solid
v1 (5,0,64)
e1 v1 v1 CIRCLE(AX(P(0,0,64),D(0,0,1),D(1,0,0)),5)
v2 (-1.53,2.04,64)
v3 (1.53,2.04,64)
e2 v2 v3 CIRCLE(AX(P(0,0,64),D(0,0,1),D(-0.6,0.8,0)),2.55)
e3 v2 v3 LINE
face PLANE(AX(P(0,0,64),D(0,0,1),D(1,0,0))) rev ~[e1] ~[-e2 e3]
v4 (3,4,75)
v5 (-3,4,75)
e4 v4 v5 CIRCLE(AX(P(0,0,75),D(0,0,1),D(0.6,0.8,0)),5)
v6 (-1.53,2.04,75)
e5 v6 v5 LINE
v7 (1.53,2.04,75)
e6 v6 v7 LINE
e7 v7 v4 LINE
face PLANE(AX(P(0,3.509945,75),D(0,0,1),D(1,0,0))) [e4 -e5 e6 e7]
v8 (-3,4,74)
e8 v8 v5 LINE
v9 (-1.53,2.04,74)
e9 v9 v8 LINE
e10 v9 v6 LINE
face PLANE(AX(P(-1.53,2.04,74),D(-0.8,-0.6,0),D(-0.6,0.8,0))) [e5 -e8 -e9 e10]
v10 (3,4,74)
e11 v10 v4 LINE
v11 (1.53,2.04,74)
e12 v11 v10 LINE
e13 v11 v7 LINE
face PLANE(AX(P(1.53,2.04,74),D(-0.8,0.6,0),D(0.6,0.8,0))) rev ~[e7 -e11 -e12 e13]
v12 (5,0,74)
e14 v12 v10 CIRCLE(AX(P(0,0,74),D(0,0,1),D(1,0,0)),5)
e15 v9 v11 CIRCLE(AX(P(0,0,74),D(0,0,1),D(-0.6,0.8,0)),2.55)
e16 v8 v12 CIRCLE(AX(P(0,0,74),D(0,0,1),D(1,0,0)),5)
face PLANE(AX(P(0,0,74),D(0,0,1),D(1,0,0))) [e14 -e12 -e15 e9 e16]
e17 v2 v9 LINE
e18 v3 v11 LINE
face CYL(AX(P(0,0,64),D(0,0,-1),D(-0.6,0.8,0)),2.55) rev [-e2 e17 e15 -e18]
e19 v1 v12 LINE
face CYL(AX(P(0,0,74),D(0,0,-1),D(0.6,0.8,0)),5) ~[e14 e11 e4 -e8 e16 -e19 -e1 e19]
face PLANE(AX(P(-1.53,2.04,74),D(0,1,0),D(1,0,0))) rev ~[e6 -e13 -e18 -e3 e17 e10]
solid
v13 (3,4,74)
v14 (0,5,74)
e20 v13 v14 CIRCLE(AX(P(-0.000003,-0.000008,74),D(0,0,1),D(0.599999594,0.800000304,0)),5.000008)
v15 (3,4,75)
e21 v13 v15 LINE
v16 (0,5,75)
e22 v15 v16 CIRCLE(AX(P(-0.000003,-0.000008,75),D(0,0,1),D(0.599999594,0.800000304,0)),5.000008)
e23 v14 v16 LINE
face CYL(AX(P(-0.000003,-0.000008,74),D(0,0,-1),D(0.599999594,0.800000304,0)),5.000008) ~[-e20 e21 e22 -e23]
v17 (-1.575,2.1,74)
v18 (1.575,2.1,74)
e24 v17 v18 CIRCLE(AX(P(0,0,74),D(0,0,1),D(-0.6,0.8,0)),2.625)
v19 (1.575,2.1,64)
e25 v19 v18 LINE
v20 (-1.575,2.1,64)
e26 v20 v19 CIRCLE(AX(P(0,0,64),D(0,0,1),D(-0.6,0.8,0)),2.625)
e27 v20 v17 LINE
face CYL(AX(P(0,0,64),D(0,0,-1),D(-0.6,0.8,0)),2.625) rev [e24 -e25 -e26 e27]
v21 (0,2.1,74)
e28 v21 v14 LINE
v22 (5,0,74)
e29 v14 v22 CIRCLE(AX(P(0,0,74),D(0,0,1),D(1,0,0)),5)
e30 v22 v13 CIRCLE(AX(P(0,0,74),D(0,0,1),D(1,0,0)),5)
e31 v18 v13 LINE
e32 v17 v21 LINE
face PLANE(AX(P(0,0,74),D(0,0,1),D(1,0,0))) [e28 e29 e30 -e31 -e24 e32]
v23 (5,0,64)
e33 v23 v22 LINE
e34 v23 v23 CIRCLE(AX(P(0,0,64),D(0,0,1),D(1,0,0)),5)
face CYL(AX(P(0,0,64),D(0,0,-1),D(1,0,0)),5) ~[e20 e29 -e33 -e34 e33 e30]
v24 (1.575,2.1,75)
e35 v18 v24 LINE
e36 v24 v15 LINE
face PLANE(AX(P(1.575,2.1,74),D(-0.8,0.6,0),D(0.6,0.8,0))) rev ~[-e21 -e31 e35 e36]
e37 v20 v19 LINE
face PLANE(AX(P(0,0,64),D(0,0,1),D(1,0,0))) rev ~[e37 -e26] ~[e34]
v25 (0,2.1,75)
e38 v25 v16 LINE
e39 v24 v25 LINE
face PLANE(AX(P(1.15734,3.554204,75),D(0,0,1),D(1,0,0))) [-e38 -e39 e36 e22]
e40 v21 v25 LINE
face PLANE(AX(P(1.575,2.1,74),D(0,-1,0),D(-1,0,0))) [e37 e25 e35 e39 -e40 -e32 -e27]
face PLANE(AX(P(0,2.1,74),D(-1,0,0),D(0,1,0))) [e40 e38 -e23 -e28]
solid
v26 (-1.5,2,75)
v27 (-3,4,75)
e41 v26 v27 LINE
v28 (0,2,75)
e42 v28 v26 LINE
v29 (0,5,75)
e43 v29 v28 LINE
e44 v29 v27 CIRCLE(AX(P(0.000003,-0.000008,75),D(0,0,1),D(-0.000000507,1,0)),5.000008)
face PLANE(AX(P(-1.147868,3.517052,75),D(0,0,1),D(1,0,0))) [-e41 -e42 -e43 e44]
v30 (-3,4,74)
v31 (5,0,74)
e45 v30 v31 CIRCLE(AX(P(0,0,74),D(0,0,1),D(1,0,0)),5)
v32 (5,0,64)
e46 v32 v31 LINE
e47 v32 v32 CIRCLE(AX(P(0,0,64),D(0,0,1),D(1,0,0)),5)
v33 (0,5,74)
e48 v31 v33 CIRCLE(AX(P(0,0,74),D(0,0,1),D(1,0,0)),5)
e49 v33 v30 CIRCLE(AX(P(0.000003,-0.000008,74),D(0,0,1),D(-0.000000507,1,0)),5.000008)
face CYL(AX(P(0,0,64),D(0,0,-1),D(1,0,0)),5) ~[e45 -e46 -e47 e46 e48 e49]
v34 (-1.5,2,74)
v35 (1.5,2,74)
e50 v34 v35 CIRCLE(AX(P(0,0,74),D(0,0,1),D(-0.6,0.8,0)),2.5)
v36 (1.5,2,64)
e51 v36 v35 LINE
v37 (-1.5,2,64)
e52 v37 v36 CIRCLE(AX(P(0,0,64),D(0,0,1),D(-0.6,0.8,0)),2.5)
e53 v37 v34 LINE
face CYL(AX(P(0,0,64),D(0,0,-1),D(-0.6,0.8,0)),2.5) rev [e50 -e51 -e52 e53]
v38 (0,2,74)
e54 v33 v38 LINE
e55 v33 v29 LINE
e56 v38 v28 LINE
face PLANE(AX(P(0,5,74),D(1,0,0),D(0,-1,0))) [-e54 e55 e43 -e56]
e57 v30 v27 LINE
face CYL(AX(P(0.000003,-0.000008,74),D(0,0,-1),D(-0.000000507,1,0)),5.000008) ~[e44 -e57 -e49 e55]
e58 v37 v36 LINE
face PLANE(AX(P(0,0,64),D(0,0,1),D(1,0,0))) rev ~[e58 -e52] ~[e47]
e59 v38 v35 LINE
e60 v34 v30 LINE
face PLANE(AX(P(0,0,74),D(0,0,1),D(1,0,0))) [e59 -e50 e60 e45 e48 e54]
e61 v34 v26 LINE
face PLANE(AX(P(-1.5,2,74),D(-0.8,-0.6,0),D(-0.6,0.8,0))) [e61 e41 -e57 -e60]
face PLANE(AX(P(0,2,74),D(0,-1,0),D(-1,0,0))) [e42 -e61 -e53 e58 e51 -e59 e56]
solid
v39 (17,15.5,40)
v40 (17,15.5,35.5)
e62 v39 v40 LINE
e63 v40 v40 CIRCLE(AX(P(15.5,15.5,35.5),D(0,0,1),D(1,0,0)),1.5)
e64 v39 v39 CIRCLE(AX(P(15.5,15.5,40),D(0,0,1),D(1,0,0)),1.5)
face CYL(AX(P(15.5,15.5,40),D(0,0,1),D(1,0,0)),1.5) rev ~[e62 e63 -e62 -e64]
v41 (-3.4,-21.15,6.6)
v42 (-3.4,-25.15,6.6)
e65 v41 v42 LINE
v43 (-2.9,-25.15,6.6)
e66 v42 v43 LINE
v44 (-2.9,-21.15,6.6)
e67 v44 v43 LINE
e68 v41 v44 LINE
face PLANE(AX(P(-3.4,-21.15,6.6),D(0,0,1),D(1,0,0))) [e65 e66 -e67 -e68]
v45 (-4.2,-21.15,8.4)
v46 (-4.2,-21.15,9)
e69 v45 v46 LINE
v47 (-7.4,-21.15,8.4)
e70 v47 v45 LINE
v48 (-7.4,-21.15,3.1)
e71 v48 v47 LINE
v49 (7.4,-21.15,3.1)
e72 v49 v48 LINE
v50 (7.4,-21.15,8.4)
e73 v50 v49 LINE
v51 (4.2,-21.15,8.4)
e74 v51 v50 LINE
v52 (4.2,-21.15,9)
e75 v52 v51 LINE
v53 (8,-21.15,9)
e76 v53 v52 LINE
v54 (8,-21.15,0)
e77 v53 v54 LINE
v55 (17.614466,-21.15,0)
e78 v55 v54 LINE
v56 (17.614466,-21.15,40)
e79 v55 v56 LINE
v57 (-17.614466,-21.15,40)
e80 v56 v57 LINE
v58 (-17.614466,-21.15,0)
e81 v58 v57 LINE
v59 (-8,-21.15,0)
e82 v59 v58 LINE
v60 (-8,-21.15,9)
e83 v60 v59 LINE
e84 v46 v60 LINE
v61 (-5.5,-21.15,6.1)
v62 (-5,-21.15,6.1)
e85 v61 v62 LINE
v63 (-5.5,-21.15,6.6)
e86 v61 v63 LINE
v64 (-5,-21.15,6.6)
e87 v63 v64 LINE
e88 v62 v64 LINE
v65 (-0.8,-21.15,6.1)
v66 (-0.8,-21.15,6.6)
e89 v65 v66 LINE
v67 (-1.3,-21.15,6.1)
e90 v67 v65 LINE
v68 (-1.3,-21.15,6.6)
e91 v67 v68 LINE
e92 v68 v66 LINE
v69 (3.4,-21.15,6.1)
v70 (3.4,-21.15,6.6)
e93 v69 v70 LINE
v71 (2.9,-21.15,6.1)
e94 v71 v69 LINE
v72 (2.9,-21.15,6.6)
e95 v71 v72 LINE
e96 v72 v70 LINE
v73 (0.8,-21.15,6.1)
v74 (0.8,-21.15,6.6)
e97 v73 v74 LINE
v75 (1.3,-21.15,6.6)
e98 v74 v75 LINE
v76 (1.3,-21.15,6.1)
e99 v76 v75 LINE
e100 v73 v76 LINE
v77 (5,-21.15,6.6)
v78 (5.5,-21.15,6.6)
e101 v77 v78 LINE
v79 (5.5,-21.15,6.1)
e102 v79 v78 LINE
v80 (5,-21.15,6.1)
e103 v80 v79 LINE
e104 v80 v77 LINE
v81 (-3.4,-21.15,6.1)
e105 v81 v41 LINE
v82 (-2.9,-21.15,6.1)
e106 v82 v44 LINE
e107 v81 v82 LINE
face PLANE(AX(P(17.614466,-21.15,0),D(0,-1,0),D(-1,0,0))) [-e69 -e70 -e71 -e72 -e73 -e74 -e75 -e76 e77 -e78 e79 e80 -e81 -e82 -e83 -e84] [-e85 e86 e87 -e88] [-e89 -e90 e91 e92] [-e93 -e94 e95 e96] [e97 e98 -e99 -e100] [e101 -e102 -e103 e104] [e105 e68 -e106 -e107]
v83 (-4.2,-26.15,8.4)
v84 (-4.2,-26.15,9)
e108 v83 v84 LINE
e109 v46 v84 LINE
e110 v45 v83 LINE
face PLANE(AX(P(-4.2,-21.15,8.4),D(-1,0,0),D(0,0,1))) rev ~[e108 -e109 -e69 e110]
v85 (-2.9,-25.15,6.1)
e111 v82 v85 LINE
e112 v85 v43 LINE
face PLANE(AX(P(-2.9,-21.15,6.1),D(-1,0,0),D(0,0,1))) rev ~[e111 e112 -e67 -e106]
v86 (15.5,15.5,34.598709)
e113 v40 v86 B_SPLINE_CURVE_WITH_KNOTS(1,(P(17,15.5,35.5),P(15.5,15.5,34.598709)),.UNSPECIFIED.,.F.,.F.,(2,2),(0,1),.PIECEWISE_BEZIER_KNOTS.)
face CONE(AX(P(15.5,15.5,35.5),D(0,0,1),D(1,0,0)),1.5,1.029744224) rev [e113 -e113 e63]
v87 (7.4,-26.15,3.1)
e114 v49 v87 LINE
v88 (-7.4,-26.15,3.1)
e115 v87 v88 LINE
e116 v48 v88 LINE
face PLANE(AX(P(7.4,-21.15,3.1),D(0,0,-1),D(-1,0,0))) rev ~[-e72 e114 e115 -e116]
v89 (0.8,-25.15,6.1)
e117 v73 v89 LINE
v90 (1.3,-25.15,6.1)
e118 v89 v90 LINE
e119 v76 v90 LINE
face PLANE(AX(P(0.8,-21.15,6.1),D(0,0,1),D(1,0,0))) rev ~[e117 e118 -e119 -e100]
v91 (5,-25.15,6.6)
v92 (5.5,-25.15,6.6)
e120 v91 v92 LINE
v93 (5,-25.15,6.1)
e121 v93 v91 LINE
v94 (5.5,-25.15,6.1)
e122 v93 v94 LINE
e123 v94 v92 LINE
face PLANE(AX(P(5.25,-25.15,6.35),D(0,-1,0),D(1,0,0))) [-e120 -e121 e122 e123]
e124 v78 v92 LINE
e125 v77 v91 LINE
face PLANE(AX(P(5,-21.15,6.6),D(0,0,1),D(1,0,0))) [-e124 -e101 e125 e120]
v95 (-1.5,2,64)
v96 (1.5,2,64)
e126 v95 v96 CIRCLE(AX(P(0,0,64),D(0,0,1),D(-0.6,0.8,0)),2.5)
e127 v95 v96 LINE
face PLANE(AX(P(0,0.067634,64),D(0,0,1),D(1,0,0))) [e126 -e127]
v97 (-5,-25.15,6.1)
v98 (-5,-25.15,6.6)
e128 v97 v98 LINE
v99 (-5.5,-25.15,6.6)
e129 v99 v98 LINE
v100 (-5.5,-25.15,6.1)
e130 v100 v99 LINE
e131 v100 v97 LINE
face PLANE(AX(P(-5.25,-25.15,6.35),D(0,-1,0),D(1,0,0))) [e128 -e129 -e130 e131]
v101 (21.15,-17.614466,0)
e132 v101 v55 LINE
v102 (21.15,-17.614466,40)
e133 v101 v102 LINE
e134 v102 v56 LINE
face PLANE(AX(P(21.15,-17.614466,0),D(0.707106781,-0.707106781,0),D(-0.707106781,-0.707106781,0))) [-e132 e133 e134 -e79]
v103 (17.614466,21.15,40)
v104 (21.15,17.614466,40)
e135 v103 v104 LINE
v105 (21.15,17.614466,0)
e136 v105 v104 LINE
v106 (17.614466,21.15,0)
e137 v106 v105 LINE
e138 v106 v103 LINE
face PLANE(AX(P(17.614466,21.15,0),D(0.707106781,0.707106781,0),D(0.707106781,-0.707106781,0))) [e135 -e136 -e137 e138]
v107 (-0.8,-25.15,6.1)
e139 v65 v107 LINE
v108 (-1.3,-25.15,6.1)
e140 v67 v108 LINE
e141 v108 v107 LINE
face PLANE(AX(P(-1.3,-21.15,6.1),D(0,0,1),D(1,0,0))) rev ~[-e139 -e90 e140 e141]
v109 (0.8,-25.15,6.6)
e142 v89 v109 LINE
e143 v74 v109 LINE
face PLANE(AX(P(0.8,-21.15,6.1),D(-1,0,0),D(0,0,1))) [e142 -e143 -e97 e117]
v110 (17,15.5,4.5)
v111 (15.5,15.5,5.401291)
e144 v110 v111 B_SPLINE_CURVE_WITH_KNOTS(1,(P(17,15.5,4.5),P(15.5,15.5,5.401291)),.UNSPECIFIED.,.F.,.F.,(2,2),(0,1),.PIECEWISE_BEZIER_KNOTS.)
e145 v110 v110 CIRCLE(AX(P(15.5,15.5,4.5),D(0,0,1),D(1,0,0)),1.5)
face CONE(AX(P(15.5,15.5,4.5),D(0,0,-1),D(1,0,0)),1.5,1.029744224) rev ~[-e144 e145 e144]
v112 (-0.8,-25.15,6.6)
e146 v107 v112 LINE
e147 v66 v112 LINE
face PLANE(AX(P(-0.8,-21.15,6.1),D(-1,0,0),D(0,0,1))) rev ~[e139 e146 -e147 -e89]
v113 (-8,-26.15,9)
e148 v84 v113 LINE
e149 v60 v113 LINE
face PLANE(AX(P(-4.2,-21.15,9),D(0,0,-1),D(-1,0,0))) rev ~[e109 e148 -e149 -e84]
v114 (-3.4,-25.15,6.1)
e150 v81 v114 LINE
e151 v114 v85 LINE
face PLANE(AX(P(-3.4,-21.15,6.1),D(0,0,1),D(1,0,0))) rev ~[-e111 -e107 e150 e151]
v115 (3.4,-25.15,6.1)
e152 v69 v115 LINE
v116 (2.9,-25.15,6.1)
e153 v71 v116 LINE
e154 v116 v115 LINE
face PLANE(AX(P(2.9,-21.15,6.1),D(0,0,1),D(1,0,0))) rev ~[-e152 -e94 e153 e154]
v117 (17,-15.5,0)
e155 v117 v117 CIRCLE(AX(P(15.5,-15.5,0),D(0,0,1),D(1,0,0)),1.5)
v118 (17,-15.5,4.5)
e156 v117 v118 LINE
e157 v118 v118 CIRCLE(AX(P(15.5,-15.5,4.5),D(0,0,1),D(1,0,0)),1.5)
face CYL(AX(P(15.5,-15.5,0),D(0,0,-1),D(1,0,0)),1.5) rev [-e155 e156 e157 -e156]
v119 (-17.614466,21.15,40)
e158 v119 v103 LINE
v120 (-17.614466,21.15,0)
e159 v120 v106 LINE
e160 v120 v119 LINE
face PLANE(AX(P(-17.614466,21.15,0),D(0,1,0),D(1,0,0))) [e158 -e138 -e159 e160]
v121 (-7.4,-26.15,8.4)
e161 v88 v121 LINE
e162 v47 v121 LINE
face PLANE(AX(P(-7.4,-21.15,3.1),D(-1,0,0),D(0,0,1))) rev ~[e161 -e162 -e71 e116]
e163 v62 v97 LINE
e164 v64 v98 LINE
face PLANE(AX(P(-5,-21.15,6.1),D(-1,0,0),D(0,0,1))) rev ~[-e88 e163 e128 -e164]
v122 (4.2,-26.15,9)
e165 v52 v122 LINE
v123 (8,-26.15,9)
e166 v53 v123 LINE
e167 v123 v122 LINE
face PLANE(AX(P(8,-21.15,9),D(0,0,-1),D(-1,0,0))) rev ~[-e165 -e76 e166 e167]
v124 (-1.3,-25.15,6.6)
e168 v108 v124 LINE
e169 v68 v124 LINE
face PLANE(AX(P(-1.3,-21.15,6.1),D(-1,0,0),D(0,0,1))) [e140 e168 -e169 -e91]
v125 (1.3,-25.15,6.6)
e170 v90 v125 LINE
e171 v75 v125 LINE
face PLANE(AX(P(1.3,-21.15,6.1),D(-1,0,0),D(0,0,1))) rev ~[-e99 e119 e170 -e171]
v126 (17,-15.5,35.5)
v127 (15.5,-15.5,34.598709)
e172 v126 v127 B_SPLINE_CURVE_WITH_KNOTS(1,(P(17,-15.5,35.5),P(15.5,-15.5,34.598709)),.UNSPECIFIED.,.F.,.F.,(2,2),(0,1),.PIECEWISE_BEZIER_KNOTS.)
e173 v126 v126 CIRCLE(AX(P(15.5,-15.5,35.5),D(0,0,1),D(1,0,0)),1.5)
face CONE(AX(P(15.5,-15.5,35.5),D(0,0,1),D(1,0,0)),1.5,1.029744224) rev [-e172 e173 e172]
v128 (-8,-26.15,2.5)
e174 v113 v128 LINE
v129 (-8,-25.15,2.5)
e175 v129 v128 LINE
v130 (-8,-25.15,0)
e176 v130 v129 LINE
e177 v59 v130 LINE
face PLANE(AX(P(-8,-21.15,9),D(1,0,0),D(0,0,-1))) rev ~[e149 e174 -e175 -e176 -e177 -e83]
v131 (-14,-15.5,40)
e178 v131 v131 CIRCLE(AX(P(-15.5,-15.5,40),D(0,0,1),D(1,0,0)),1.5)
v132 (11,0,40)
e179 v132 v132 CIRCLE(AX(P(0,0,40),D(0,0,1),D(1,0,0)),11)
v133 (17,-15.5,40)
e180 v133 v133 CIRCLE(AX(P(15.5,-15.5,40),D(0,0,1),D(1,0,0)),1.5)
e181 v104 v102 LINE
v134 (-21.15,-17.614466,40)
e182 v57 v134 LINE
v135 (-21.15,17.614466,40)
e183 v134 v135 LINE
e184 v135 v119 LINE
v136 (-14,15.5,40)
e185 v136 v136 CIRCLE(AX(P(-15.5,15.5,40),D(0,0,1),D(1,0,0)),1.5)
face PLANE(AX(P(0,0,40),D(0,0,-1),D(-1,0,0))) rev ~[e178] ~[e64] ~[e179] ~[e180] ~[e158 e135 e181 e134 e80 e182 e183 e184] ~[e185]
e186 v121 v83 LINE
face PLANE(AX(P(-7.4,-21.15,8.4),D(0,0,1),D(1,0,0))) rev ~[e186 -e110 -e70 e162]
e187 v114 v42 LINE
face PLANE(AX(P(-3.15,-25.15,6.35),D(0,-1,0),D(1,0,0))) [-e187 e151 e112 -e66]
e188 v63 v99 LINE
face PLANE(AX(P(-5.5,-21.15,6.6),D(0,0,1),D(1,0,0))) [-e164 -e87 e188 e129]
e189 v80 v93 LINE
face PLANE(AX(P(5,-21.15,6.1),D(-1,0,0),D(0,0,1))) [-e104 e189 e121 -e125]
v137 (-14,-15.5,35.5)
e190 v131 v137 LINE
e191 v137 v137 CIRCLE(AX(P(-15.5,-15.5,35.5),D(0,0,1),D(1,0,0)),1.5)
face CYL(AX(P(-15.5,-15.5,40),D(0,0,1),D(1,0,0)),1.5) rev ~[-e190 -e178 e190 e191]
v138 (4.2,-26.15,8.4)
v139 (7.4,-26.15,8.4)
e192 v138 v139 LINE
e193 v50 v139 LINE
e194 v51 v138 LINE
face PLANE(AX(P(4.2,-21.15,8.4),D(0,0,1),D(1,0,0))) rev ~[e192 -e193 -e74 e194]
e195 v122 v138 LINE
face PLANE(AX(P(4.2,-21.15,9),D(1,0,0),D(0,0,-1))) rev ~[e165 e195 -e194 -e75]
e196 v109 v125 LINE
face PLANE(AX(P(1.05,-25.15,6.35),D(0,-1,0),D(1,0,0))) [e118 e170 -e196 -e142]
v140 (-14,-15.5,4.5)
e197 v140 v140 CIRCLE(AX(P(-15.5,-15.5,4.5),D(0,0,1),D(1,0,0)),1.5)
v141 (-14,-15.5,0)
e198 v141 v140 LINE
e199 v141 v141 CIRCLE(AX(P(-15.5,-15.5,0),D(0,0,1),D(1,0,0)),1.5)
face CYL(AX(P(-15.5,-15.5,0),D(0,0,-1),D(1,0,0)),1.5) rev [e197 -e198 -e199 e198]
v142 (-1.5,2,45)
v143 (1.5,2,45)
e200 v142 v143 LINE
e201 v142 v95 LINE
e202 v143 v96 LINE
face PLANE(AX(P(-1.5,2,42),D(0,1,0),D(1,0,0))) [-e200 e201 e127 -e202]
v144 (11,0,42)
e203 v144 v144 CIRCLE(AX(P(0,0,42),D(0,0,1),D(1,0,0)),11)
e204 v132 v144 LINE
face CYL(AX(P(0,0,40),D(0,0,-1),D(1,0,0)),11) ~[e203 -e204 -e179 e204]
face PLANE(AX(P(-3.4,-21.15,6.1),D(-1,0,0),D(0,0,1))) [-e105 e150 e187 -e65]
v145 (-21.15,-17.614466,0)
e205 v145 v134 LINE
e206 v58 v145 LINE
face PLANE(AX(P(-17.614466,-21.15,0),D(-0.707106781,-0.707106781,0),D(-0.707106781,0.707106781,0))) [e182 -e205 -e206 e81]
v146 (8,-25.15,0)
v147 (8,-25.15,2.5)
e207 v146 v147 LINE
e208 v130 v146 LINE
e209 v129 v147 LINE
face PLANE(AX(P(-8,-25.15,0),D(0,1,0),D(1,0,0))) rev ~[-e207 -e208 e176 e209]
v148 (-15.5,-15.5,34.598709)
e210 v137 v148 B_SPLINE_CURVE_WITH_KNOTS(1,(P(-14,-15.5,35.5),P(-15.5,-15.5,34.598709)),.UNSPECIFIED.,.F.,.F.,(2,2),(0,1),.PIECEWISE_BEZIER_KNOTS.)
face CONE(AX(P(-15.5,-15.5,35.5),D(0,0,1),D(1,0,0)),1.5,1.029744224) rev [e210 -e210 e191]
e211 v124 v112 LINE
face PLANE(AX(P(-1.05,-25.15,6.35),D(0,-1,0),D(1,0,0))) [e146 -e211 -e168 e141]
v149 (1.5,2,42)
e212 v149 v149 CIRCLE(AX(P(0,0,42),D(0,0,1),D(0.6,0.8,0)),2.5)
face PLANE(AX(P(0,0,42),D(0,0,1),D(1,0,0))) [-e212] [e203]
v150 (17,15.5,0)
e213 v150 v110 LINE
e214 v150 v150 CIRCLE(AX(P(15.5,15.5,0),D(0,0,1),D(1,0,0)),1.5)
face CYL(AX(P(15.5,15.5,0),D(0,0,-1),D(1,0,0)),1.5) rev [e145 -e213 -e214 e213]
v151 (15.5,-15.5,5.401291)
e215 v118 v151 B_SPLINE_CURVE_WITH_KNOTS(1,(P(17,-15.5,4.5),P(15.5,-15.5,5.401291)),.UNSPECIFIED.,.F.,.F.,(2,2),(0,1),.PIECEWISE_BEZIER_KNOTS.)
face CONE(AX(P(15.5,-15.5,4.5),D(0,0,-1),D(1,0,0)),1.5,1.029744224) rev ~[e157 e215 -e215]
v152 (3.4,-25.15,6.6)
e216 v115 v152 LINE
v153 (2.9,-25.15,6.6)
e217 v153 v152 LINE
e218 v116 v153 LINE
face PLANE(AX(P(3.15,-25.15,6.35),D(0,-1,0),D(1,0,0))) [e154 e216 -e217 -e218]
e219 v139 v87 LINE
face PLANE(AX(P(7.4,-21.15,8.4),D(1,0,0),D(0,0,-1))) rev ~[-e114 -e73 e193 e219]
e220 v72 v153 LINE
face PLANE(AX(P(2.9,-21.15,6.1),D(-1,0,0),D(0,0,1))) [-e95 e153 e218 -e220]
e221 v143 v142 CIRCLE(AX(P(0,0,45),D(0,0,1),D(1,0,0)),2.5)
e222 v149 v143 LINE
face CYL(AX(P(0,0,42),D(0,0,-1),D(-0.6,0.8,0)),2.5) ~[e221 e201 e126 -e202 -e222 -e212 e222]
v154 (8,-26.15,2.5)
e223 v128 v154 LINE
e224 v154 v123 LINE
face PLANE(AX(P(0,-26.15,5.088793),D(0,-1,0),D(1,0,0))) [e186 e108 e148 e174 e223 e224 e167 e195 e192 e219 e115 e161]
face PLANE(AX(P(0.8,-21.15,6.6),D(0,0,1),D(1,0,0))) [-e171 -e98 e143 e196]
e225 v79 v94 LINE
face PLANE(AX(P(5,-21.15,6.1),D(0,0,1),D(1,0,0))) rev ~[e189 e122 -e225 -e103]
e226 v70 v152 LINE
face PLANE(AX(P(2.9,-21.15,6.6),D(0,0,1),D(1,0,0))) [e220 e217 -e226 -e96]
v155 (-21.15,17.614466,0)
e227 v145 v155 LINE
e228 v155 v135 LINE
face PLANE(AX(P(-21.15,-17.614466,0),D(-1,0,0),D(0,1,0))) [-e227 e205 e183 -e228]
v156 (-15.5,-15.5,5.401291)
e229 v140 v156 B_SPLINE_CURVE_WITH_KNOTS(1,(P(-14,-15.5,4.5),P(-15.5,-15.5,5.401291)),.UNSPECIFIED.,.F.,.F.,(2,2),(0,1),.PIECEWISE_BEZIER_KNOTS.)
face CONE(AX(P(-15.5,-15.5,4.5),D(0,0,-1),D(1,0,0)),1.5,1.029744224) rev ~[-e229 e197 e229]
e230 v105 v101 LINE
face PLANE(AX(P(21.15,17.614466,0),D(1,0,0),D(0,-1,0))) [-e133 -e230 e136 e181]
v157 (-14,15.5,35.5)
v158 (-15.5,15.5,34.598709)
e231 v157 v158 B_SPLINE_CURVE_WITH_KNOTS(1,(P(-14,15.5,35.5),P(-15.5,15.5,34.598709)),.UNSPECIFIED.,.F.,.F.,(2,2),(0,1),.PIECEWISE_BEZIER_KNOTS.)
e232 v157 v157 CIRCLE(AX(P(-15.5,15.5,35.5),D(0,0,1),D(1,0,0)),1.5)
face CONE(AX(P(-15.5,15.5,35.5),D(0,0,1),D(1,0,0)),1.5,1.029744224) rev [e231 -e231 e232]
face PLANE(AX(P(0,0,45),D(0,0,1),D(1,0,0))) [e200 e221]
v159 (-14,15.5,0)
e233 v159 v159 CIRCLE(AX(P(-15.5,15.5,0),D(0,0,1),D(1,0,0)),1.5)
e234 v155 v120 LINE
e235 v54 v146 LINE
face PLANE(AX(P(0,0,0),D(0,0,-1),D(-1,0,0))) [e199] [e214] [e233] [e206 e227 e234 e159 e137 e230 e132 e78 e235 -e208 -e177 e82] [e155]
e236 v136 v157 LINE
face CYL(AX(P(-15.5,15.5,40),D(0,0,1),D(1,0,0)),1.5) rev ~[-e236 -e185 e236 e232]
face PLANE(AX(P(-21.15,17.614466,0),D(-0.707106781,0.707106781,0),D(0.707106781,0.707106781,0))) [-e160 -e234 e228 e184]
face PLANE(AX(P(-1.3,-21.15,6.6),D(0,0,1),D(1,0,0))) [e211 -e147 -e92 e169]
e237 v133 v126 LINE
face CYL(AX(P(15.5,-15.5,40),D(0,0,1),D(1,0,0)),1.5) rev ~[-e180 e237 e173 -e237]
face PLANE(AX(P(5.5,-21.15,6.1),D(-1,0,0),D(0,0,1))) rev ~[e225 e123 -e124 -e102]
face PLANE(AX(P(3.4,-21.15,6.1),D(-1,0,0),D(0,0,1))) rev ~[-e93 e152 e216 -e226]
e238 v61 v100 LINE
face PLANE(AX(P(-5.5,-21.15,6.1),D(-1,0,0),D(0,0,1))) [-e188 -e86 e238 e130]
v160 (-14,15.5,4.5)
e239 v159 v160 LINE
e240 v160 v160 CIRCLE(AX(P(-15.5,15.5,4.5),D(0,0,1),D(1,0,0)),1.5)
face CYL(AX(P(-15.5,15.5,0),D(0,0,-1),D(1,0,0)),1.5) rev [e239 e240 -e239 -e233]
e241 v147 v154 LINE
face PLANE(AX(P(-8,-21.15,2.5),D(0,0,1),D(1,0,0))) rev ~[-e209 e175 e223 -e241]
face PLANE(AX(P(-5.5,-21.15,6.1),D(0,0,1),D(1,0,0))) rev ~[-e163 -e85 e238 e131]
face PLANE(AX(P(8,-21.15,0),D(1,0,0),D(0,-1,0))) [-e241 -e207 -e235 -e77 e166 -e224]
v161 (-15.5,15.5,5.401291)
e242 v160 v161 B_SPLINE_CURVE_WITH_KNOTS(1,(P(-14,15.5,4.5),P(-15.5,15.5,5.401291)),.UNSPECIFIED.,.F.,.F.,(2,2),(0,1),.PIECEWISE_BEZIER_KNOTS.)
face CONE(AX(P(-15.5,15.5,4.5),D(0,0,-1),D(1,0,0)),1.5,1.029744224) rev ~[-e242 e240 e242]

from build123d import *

# Parameters (mm, degrees)
PAD_DEPTH      = 40
SKETCH001_R    = 1.5
HOLE_DEPTH     = 4.5
HOLE_TIPS_R    = 1.5
SKETCH002_R    = 1.5
HOLE001_DEPTH  = 4.5
HOLE001_TIPS_R = 1.5
SKETCH003_R    = 11
PAD001_DEPTH   = 2
PAD002_DEPTH   = 22
SKETCH005_R    = 2.5
PAD003_DEPTH   = 3
SKETCH006_W    = 16
SKETCH006_H    = 4
PAD004_DEPTH   = 2.5
PAD005_DEPTH   = 5
SKETCH008_W    = 0.5
SKETCH008_H    = 0.5
PAD006_DEPTH   = 4
SKETCH009_R    = 5
PAD007_DEPTH   = 10
PAD011_DEPTH   = 1
SKETCH010_R    = 5
PAD008_DEPTH   = 10
PAD012_DEPTH   = 1
SKETCH011_R    = 5
PAD009_DEPTH   = 10
PAD010_DEPTH   = 1


with BuildPart() as motor:
    # Sketch → Pad (new body)
    with BuildSketch(Plane.XY):
        Polygon((-17.614466, 21.15), (17.614466, 21.15), (21.15, 17.614466), (21.15, -17.614466), (17.614466, -21.15), (-17.614466, -21.15), (-21.15, -17.614466), (-21.15, 17.614466), align=None)
    extrude(amount=PAD_DEPTH)

    # Sketch001 (on Face10 of Pad) → Hole (cut)
    with BuildSketch(Plane.XY.offset(40)):
        with Locations((15.5, 15.5)):
            Circle(SKETCH001_R)
        with Locations((-15.5, 15.5)):
            Circle(SKETCH001_R)
        with Locations((-15.5, -15.5)):
            Circle(SKETCH001_R)
        with Locations((15.5, -15.5)):
            Circle(SKETCH001_R)
    extrude(amount=-HOLE_DEPTH, mode=Mode.SUBTRACT)

    # Hole tips → Hole tip 1 section 0
    with BuildSketch(Plane.XY.offset(35.5), mode=Mode.PRIVATE) as hole_tip_1_s0:
        with Locations((15.5, 15.5)):
            Circle(HOLE_TIPS_R)
    loft([hole_tip_1_s0.sketch, Vertex(15.5, 15.5, 34.598709)], mode=Mode.SUBTRACT)

    # Hole tips → Hole tip 2 section 0
    with BuildSketch(Plane.XY.offset(35.5), mode=Mode.PRIVATE) as hole_tip_2_s0:
        with Locations((-15.5, 15.5)):
            Circle(HOLE_TIPS_R)
    loft([hole_tip_2_s0.sketch, Vertex(-15.5, 15.5, 34.598709)], mode=Mode.SUBTRACT)

    # Hole tips → Hole tip 3 section 0
    with BuildSketch(Plane.XY.offset(35.5), mode=Mode.PRIVATE) as hole_tip_3_s0:
        with Locations((-15.5, -15.5)):
            Circle(HOLE_TIPS_R)
    loft([hole_tip_3_s0.sketch, Vertex(-15.5, -15.5, 34.598709)], mode=Mode.SUBTRACT)

    # Hole tips → Hole tip 4 section 0
    with BuildSketch(Plane.XY.offset(35.5), mode=Mode.PRIVATE) as hole_tip_4_s0:
        with Locations((15.5, -15.5)):
            Circle(HOLE_TIPS_R)
    loft([hole_tip_4_s0.sketch, Vertex(15.5, -15.5, 34.598709)], mode=Mode.SUBTRACT)

    # Sketch002 → Hole001 (cut)
    with BuildSketch(Plane.XY):
        with Locations((-15.5, 15.5)):
            Circle(SKETCH002_R)
        with Locations((-15.5, -15.5)):
            Circle(SKETCH002_R)
        with Locations((15.5, -15.5)):
            Circle(SKETCH002_R)
        with Locations((15.5, 15.5)):
            Circle(SKETCH002_R)
    extrude(amount=HOLE001_DEPTH, mode=Mode.SUBTRACT)

    # Hole001 tips → Hole001 tip 1 section 0
    with BuildSketch(Plane.XY.offset(4.5), mode=Mode.PRIVATE) as hole001_tip_1_s0:
        with Locations((-15.5, 15.5)):
            Circle(HOLE001_TIPS_R)
    loft([hole001_tip_1_s0.sketch, Vertex(-15.5, 15.5, 5.401291)], mode=Mode.SUBTRACT)

    # Hole001 tips → Hole001 tip 2 section 0
    with BuildSketch(Plane.XY.offset(4.5), mode=Mode.PRIVATE) as hole001_tip_2_s0:
        with Locations((-15.5, -15.5)):
            Circle(HOLE001_TIPS_R)
    loft([hole001_tip_2_s0.sketch, Vertex(-15.5, -15.5, 5.401291)], mode=Mode.SUBTRACT)

    # Hole001 tips → Hole001 tip 3 section 0
    with BuildSketch(Plane.XY.offset(4.5), mode=Mode.PRIVATE) as hole001_tip_3_s0:
        with Locations((15.5, -15.5)):
            Circle(HOLE001_TIPS_R)
    loft([hole001_tip_3_s0.sketch, Vertex(15.5, -15.5, 5.401291)], mode=Mode.SUBTRACT)

    # Hole001 tips → Hole001 tip 4 section 0
    with BuildSketch(Plane.XY.offset(4.5), mode=Mode.PRIVATE) as hole001_tip_4_s0:
        with Locations((15.5, 15.5)):
            Circle(HOLE001_TIPS_R)
    loft([hole001_tip_4_s0.sketch, Vertex(15.5, 15.5, 5.401291)], mode=Mode.SUBTRACT)

    # Sketch003 (on Face5 of Hole001) → Pad001 (join)
    with BuildSketch(Plane.XY.offset(40)):
        Circle(SKETCH003_R)
    extrude(amount=PAD001_DEPTH)

    # Sketch004 (on Face27 of Pad001) → Pad002 (join)
    with BuildSketch(Plane.XY.offset(42)):
        with BuildLine():
            ThreePointArc((-1.5, 2), (0, -2.5), (1.5, 2))
            Line((-1.5, 2), (1.5, 2))
        make_face()
    extrude(amount=PAD002_DEPTH)

    # Sketch005 (on Face27 of Pad001) → Pad003 (join)
    with BuildSketch(Plane.XY.offset(42)):
        Circle(SKETCH005_R)
    extrude(amount=PAD003_DEPTH)

    # Sketch006 (on Face4 of Pad003) → Pad004 (join)
    with BuildSketch(Plane(origin=(0, 0, 0), x_dir=(1, 0, 0), z_dir=(0, 0, -1))):
        with Locations((0, 23.15)):
            Rectangle(SKETCH006_W, SKETCH006_H)
    extrude(amount=-PAD004_DEPTH)

    # Sketch007 (on Face10 of Pad004) → Pad005 (join)
    with BuildSketch(Plane.XZ.offset(21.15)):
        Polygon((-4.2, 9), (-8, 9), (-8, 2.5), (8, 2.5), (8, 9), (4.2, 9), (4.2, 8.4), (7.4, 8.4), (7.4, 3.1), (-7.4, 3.1), (-7.4, 8.4), (-4.2, 8.4), align=None)
    extrude(amount=PAD005_DEPTH)

    # Sketch008 (on Face10 of Pad005) → Pad006 (join)
    with BuildSketch(Plane.XZ.offset(21.15)):
        with Locations((-5.25, 6.35)):
            Rectangle(SKETCH008_W, SKETCH008_H)
        with Locations((-3.15, 6.35)):
            Rectangle(SKETCH008_W, SKETCH008_H)
        with Locations((-1.05, 6.35)):
            Rectangle(SKETCH008_W, SKETCH008_H)
        with Locations((1.05, 6.35)):
            Rectangle(SKETCH008_W, SKETCH008_H)
        with Locations((3.15, 6.35)):
            Rectangle(SKETCH008_W, SKETCH008_H)
        with Locations((5.25, 6.35)):
            Rectangle(SKETCH008_W, SKETCH008_H)
    extrude(amount=PAD006_DEPTH)


with BuildPart() as fitting_5_25mm:
    # Sketch009 (on Face1 of Binder) → Pad007 (new body)
    with BuildSketch(Plane.XY.offset(64)):
        Circle(SKETCH009_R)
        with BuildLine():
            ThreePointArc((-1.575, 2.1), (0, -2.625), (1.575, 2.1))
            Line((-1.575, 2.1), (1.575, 2.1))
        make_face(mode=Mode.SUBTRACT)
    extrude(amount=PAD007_DEPTH)

    # Sketch013 (on Face5 of Pad007) → Pad011 (join)
    with BuildSketch(Plane.XY.offset(74)):
        with BuildLine():
            ThreePointArc((3, 4), (1.581139, 4.743416), (0, 5))
            Line((0, 2.1), (0, 5))
            Line((1.575, 2.1), (0, 2.1))
            Line((1.575, 2.1), (3, 4))
        make_face()
    extrude(amount=PAD011_DEPTH)


with BuildPart() as fitting_5_1mm:
    # Sketch010 (on Face1 of Binder001) → Pad008 (new body)
    with BuildSketch(Plane.XY.offset(64)):
        Circle(SKETCH010_R)
        with BuildLine():
            ThreePointArc((-1.53, 2.04), (0, -2.55), (1.53, 2.04))
            Line((-1.53, 2.04), (1.53, 2.04))
        make_face(mode=Mode.SUBTRACT)
    extrude(amount=PAD008_DEPTH)

    # Sketch014 (on Face5 of Pad008) → Pad012 (join)
    with BuildSketch(Plane.XY.offset(74)):
        with BuildLine():
            ThreePointArc((3, 4), (0, 5), (-3, 4))
            Line((-1.53, 2.04), (-3, 4))
            Line((-1.53, 2.04), (1.53, 2.04))
            Line((1.53, 2.04), (3, 4))
        make_face()
    extrude(amount=PAD012_DEPTH)


with BuildPart() as fitting_5_0mm:
    # Sketch011 (on Face1 of Binder002) → Pad009 (new body)
    with BuildSketch(Plane.XY.offset(64)):
        Circle(SKETCH011_R)
        with BuildLine():
            ThreePointArc((-1.5, 2), (0, -2.5), (1.5, 2))
            Line((-1.5, 2), (1.5, 2))
        make_face(mode=Mode.SUBTRACT)
    extrude(amount=PAD009_DEPTH)

    # Sketch012 (on Face5 of Pad009) → Pad010 (join)
    with BuildSketch(Plane.XY.offset(74)):
        with BuildLine():
            ThreePointArc((0, 5), (-1.581139, 4.743416), (-3, 4))
            Line((-1.5, 2), (-3, 4))
            Line((0, 2), (-1.5, 2))
            Line((0, 5), (0, 2))
        make_face()
    extrude(amount=PAD010_DEPTH)


solid = Compound([motor.part, fitting_5_25mm.part, fitting_5_1mm.part, fitting_5_0mm.part])
